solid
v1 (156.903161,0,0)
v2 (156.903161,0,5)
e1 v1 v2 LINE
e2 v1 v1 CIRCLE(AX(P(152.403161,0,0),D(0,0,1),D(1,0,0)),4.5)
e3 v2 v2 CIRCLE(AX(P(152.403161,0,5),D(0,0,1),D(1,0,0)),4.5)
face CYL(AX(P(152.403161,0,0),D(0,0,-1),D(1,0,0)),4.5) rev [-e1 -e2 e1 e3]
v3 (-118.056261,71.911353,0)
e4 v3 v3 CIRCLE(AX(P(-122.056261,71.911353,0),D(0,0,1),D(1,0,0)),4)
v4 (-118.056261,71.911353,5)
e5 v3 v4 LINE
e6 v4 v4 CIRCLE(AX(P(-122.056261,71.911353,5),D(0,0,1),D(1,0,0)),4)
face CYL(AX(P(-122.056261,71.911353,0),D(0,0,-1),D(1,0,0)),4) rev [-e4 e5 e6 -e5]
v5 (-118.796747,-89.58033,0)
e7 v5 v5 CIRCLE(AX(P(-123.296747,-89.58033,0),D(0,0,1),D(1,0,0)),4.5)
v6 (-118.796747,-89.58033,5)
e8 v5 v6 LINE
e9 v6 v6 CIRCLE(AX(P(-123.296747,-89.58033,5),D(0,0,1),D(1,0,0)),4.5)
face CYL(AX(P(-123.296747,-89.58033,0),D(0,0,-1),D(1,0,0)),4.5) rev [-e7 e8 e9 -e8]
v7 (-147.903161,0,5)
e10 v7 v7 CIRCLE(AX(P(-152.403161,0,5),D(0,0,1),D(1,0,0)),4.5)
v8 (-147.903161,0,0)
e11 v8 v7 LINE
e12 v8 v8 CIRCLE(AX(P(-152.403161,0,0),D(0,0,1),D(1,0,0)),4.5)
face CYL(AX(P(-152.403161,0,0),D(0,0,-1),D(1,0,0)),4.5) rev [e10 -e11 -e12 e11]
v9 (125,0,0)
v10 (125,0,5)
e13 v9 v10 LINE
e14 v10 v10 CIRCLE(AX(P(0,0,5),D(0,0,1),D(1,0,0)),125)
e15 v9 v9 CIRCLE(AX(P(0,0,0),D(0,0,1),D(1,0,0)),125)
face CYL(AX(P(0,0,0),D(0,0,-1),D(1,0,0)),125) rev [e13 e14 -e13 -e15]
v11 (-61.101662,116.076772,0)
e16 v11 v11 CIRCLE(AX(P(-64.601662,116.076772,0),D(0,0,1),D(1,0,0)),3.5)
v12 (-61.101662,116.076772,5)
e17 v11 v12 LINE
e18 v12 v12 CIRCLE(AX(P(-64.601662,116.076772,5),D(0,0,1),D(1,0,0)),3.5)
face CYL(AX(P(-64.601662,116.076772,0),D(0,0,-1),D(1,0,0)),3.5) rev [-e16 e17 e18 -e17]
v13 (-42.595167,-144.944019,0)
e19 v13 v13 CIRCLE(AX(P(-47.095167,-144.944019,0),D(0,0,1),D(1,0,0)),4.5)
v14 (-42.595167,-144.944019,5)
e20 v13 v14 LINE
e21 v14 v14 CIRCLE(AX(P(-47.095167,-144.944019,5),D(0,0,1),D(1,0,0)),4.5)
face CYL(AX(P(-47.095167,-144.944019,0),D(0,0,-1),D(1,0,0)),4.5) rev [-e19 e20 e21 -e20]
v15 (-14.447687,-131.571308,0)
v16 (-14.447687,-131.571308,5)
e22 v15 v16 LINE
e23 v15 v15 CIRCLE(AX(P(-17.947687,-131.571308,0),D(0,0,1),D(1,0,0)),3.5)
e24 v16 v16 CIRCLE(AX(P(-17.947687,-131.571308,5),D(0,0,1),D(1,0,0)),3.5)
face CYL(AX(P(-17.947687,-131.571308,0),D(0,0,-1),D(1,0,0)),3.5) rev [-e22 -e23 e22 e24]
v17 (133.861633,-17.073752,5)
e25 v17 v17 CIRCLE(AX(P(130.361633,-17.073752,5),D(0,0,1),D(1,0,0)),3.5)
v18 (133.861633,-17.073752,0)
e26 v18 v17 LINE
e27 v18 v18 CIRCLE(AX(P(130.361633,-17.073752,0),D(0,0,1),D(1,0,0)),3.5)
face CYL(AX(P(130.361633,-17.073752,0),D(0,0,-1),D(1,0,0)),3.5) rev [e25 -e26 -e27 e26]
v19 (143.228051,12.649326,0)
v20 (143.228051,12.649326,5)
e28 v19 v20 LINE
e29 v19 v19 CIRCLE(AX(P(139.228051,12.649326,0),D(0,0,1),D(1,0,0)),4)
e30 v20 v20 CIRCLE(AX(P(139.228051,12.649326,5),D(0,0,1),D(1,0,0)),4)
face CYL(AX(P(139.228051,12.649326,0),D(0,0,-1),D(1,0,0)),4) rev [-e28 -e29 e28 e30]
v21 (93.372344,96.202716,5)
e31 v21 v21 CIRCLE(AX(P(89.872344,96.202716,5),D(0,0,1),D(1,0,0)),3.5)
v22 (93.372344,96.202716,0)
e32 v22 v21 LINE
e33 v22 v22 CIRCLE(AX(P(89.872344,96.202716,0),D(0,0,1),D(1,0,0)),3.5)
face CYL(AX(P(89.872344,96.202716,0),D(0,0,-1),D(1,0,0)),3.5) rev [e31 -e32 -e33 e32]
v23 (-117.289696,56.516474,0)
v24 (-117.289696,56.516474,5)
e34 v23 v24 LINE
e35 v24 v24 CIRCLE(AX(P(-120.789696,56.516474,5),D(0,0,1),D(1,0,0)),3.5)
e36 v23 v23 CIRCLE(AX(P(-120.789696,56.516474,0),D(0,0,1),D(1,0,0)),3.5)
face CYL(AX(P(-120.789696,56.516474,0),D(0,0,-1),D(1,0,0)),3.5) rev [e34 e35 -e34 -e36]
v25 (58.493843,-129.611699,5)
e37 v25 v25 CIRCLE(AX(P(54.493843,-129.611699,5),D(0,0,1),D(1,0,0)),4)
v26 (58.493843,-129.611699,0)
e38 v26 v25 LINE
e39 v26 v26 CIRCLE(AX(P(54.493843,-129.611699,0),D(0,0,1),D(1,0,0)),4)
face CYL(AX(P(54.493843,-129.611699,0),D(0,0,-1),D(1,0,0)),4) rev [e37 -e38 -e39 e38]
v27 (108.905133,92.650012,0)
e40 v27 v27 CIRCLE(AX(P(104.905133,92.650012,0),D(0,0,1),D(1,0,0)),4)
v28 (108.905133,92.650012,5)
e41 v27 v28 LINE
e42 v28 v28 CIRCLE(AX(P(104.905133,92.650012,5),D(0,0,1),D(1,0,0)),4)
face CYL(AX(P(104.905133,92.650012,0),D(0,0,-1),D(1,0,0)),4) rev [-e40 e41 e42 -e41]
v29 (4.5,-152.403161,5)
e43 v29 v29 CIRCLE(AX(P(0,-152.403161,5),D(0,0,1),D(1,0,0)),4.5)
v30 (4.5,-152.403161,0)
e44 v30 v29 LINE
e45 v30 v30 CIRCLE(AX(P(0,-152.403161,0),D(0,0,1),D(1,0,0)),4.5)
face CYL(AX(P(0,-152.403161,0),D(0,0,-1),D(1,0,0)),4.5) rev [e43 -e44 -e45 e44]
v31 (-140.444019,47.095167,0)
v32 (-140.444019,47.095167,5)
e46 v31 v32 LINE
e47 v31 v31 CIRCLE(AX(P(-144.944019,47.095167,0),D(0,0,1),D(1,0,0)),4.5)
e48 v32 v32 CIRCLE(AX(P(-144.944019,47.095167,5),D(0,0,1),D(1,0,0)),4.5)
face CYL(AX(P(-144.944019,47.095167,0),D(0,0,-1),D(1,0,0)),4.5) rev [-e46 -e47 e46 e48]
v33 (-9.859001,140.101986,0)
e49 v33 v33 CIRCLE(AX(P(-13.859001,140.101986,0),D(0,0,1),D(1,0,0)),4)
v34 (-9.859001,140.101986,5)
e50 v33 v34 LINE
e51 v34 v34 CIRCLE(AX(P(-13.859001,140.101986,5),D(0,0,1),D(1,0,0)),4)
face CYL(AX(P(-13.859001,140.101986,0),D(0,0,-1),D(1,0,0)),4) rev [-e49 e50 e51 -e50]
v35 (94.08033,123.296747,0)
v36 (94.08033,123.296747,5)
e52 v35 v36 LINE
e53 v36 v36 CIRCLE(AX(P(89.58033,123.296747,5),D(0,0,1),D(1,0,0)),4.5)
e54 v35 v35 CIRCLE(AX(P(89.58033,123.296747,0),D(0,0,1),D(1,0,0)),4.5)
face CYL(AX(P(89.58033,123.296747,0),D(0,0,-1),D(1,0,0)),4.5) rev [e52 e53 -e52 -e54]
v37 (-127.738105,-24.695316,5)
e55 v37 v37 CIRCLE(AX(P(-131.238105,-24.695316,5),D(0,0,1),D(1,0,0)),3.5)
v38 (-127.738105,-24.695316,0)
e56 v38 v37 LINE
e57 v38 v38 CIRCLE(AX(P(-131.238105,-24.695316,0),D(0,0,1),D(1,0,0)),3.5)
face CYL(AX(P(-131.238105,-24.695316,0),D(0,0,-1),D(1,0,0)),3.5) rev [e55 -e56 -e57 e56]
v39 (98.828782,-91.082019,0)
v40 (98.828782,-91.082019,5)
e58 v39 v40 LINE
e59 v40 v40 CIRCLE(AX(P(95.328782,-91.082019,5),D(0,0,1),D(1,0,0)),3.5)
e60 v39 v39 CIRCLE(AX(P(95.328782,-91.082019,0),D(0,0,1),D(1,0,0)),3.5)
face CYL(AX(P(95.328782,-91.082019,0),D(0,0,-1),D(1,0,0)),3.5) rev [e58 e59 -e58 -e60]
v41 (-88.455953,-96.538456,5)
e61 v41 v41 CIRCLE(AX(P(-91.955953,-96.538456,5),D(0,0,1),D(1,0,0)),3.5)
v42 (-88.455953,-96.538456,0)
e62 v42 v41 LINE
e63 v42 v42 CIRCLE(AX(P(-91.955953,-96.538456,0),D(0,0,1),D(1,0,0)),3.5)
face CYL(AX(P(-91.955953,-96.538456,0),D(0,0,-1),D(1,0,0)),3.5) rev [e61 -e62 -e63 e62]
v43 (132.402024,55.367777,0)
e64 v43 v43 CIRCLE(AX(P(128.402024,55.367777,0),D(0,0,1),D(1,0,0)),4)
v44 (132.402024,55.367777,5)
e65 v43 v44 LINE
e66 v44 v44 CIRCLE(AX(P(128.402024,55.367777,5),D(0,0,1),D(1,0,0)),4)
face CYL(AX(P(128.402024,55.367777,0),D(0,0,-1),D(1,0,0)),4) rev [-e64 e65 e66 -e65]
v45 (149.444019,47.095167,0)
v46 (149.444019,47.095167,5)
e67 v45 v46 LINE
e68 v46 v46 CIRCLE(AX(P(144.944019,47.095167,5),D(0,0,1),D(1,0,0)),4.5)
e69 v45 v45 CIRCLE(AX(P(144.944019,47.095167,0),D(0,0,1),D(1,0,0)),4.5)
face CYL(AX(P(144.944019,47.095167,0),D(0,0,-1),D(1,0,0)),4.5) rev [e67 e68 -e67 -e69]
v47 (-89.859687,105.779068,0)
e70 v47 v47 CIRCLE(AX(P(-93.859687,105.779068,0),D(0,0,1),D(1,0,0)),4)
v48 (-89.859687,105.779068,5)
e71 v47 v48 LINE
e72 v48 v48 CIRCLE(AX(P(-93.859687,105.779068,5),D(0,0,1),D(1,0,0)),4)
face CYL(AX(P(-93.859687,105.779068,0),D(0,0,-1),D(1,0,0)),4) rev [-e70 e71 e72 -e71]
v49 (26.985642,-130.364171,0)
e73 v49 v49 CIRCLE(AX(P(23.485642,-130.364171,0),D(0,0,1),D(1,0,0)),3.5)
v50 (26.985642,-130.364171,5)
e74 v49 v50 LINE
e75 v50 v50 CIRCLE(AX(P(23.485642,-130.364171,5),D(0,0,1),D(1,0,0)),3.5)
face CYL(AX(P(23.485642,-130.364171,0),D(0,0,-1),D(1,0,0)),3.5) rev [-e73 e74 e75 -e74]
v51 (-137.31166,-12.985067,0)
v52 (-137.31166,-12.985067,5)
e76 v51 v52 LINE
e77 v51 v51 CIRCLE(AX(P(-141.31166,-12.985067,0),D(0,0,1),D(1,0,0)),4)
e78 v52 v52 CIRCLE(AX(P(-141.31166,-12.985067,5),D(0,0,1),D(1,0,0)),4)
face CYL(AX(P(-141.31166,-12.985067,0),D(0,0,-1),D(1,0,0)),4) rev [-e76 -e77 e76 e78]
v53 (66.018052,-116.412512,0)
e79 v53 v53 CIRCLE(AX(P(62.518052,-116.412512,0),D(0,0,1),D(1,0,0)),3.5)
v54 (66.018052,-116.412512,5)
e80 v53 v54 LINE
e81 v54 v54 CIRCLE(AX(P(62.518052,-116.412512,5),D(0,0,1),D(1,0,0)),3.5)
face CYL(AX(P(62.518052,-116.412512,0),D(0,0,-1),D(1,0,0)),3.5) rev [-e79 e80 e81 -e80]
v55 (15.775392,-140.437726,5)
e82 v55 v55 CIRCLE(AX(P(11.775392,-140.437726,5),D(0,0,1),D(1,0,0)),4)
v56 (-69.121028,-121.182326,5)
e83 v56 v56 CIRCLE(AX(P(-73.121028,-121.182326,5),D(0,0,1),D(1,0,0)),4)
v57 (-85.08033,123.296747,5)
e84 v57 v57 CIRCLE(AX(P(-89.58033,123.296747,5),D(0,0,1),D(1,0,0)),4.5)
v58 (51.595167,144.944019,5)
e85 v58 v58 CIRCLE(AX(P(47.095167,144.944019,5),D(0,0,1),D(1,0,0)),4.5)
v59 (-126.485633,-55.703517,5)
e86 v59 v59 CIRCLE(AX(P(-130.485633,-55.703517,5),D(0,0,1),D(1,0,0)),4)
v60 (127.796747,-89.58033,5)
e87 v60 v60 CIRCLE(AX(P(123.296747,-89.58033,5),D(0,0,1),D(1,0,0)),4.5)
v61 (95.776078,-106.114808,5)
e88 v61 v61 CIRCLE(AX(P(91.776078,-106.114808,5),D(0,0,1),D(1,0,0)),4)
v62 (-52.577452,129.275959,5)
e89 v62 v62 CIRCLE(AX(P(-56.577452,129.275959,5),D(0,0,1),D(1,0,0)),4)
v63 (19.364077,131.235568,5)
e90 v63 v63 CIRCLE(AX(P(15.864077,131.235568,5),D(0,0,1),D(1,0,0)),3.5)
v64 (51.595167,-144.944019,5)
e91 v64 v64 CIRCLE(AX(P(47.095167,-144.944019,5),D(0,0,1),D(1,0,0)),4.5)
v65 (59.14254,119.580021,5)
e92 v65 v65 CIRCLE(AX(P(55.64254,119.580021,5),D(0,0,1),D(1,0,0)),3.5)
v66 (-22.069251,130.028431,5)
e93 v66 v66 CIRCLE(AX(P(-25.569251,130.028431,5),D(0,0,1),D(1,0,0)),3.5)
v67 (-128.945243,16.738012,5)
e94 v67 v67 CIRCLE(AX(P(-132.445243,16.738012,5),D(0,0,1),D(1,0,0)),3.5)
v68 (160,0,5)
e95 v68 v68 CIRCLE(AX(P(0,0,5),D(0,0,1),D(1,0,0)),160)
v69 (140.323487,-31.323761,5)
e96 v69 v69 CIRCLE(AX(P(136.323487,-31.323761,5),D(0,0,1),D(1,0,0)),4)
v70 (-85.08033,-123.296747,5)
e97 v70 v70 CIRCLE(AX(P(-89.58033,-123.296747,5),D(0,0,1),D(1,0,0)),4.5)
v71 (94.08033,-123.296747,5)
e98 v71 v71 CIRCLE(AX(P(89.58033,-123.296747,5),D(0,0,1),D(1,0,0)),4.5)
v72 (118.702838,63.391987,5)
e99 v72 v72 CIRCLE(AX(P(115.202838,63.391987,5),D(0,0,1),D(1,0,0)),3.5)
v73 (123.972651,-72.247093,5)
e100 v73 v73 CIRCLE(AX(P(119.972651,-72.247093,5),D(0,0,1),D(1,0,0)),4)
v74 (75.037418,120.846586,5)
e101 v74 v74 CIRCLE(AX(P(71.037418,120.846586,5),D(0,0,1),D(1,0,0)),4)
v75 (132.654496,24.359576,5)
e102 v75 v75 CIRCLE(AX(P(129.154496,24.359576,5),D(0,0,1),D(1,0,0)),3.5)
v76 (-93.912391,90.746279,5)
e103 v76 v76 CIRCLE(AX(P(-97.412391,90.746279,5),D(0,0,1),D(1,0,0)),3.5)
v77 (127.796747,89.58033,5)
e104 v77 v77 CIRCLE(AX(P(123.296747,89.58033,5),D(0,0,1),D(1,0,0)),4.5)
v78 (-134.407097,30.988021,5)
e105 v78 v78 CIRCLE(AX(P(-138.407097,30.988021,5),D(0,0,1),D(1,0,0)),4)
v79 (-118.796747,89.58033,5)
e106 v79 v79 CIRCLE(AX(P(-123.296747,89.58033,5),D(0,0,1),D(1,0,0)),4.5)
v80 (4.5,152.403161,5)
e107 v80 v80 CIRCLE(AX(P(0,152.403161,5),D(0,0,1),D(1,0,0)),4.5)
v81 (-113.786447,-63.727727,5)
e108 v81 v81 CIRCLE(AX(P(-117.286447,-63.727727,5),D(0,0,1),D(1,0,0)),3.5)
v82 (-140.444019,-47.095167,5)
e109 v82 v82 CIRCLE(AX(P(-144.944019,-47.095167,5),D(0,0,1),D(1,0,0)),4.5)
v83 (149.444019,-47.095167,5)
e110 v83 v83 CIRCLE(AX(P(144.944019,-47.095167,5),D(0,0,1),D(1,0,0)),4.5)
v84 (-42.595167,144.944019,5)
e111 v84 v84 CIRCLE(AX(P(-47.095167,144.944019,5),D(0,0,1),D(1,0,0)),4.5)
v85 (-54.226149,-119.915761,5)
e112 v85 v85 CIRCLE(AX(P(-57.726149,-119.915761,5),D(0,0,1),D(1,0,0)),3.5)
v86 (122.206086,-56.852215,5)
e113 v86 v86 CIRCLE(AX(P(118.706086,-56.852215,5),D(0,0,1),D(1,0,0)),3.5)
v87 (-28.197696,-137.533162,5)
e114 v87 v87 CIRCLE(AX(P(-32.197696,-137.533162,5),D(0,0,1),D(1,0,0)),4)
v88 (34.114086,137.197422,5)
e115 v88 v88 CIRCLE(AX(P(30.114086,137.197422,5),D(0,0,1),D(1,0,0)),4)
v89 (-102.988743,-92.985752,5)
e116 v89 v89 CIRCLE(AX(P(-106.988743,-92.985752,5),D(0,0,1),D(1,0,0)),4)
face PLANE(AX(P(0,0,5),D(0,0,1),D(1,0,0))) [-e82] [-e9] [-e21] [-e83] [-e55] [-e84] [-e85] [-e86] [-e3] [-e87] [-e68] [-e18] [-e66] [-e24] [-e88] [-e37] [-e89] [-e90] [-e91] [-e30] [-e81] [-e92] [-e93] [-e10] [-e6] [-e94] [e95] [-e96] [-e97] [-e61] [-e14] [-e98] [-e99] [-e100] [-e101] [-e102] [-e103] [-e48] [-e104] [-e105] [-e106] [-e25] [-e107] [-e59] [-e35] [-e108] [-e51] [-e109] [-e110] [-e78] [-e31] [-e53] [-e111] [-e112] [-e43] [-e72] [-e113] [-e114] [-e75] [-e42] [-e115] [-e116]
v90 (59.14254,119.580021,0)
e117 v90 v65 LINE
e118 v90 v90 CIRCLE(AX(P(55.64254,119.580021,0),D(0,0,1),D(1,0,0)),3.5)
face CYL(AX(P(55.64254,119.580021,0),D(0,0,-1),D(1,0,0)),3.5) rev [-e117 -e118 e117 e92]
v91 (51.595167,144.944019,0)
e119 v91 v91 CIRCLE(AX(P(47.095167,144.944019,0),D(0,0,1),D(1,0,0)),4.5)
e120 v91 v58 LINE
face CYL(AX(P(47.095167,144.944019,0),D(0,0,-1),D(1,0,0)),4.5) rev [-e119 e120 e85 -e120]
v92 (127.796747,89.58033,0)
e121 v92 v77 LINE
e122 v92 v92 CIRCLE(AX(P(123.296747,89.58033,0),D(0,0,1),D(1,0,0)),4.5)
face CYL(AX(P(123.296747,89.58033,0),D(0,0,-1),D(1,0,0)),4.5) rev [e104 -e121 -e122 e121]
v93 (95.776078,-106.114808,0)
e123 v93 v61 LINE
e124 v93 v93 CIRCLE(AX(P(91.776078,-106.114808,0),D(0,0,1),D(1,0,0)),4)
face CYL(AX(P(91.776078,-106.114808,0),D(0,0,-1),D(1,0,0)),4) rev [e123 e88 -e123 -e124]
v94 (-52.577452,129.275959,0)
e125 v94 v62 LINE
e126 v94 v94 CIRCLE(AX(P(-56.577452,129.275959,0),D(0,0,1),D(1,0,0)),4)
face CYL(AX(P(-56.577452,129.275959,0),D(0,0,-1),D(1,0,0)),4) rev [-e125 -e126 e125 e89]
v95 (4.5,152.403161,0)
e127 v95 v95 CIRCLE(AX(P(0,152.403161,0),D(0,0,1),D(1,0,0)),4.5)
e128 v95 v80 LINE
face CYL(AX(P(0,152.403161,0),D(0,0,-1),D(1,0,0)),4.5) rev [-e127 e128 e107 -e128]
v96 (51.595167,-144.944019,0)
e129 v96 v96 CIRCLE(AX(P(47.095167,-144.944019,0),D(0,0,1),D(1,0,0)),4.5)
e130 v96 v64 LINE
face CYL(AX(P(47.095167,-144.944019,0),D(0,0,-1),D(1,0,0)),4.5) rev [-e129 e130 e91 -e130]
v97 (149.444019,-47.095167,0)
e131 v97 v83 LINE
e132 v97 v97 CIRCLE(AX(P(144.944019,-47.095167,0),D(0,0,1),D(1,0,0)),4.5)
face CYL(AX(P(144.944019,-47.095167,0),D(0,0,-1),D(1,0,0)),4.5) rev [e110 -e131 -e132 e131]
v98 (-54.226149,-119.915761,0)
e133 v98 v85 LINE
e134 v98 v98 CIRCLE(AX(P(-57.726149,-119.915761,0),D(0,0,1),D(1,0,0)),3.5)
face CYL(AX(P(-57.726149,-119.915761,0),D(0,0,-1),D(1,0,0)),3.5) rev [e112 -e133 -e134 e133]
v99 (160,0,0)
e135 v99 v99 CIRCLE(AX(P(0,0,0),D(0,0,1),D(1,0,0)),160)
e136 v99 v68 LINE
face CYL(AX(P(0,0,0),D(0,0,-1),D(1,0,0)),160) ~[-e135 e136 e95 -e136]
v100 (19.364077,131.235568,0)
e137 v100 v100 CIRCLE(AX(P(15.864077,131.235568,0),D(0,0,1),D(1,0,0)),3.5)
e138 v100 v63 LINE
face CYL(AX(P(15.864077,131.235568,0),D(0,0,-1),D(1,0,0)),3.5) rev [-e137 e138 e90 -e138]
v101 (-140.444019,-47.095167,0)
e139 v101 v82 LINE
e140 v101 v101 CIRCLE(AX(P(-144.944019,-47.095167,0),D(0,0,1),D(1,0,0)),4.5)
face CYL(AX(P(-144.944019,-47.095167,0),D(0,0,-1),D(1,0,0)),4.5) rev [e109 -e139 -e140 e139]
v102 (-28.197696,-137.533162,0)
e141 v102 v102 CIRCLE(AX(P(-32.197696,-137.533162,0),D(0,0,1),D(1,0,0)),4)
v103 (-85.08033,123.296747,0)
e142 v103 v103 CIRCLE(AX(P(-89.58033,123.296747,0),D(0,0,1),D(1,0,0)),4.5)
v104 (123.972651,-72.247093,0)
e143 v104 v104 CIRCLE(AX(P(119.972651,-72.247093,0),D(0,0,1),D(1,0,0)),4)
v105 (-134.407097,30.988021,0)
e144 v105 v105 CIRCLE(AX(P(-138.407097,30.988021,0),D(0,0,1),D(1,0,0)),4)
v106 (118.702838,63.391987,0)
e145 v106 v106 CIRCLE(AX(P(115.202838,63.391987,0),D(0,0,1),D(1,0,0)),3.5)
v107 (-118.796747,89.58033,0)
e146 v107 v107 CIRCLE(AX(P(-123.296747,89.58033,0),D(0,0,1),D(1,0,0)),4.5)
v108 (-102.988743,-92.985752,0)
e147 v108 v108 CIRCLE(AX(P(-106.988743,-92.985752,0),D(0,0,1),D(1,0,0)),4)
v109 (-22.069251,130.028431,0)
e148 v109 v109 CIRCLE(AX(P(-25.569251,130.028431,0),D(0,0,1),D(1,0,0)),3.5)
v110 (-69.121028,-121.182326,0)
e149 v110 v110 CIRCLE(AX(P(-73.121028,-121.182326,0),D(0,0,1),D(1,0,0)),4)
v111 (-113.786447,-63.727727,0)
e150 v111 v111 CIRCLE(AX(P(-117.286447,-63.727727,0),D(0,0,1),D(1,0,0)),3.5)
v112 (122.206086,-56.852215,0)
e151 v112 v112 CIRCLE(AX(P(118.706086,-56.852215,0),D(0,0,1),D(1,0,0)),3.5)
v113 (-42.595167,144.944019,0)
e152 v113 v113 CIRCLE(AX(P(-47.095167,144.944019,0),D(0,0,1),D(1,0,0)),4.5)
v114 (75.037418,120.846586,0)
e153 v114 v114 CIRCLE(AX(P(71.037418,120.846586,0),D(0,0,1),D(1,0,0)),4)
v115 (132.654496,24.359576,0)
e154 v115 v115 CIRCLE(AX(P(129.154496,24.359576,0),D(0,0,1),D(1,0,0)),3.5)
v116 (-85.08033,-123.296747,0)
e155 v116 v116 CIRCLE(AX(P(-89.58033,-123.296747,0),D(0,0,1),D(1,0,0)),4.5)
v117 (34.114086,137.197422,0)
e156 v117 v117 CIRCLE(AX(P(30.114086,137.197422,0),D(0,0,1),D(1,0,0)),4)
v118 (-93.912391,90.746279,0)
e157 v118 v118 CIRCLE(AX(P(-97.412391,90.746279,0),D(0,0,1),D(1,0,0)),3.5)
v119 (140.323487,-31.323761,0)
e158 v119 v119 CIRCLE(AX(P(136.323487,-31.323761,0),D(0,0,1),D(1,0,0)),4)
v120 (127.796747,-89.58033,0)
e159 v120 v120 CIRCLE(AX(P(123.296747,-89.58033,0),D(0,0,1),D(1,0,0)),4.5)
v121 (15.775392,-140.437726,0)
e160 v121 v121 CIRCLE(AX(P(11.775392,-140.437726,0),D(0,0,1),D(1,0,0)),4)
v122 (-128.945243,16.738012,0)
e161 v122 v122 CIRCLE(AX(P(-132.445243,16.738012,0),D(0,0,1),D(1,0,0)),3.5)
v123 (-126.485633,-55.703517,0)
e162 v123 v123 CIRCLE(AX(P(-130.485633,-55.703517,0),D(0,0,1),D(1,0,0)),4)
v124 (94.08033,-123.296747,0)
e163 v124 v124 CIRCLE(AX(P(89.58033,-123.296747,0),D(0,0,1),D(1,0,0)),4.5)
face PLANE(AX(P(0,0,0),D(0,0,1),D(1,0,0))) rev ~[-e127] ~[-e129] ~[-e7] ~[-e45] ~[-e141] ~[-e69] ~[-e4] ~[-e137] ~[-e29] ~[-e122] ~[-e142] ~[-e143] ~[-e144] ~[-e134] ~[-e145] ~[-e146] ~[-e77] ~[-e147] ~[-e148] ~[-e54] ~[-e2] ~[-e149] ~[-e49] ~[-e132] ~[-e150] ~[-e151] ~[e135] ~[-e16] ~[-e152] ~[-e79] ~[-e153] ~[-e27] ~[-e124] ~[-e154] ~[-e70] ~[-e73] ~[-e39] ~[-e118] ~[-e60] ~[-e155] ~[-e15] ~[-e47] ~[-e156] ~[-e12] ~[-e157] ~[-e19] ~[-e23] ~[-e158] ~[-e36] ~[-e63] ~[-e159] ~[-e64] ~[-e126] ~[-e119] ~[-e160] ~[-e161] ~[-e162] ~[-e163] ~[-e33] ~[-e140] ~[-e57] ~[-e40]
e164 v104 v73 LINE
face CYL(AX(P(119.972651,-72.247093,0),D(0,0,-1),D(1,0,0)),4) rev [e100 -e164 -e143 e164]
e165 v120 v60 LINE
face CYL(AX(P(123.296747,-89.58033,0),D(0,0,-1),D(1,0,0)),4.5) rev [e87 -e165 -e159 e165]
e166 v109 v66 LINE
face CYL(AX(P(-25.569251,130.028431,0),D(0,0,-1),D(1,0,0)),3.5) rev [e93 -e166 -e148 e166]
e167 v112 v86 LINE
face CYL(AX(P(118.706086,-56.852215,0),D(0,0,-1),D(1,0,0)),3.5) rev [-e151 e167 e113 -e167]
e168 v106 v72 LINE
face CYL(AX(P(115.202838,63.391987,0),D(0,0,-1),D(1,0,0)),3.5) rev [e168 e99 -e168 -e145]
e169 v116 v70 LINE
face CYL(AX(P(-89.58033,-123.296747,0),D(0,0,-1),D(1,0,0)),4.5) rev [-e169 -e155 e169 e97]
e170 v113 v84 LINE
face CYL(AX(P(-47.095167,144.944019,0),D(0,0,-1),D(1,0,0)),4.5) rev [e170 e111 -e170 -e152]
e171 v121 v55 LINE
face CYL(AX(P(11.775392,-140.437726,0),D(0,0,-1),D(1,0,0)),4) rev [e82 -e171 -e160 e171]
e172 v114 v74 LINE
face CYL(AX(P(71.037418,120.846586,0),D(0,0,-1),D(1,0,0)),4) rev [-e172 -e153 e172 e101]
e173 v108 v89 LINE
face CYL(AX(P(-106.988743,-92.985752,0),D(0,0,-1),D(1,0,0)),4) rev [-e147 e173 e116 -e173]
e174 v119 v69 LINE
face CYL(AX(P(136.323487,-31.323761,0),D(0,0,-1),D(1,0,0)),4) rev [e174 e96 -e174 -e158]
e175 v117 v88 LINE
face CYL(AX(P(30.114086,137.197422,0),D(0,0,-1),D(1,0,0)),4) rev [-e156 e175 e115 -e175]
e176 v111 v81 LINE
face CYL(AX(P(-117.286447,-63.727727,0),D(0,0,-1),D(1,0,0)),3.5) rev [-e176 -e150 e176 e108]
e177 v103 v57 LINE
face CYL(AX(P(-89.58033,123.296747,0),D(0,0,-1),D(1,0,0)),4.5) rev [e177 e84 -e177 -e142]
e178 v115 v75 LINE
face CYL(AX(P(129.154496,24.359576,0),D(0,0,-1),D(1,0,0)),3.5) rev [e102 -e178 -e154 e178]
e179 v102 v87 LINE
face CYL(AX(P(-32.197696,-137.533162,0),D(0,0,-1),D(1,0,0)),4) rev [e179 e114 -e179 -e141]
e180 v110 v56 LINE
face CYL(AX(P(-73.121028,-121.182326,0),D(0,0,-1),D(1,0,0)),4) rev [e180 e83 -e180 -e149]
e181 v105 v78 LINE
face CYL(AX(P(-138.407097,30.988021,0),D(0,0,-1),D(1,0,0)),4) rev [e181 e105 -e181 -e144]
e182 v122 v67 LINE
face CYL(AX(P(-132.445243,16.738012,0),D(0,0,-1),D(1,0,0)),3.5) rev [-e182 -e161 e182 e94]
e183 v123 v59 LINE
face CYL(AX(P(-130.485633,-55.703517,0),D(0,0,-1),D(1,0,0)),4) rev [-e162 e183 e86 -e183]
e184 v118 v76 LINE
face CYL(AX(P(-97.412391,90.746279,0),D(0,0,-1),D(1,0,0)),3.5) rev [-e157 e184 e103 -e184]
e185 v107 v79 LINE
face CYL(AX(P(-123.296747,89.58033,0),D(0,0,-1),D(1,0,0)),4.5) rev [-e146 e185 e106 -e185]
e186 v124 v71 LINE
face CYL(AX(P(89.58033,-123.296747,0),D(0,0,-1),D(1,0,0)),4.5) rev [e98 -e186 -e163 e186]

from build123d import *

# Parameters (mm, degrees)
F0_R     = 160
F0_R_2   = 4.5
F0_R_3   = 4
F0_R_4   = 3.5
F0_R_5   = 125
F1_DEPTH = 5


with BuildPart() as f1:
    # F0 (on Top) → F1 (new body)
    with BuildSketch(Plane.XY):
        Circle(F0_R)
        with Locations((-89.58033, -123.296747)):
            Circle(F0_R_2, mode=Mode.SUBTRACT)
        with Locations((-123.296747, -89.58033)):
            Circle(F0_R_2, mode=Mode.SUBTRACT)
        with Locations((-106.988743, -92.985752)):
            Circle(F0_R_3, mode=Mode.SUBTRACT)
        with Locations((-91.955953, -96.538456)):
            Circle(F0_R_4, mode=Mode.SUBTRACT)
        with Locations((-47.095167, -144.944019)):
            Circle(F0_R_2, mode=Mode.SUBTRACT)
        with Locations((-73.121028, -121.182326)):
            Circle(F0_R_3, mode=Mode.SUBTRACT)
        with Locations((-32.197696, -137.533162)):
            Circle(F0_R_3, mode=Mode.SUBTRACT)
        with Locations((-17.947687, -131.571308)):
            Circle(F0_R_4, mode=Mode.SUBTRACT)
        with Locations((-57.726149, -119.915761)):
            Circle(F0_R_4, mode=Mode.SUBTRACT)
        with Locations((-144.944019, -47.095167)):
            Circle(F0_R_2, mode=Mode.SUBTRACT)
        with Locations((-130.485633, -55.703517)):
            Circle(F0_R_3, mode=Mode.SUBTRACT)
        with Locations((-117.286447, -63.727727)):
            Circle(F0_R_4, mode=Mode.SUBTRACT)
        with Locations((-131.238105, -24.695316)):
            Circle(F0_R_4, mode=Mode.SUBTRACT)
        with Locations((-141.31166, -12.985067)):
            Circle(F0_R_3, mode=Mode.SUBTRACT)
        with Locations((0, -152.403161)):
            Circle(F0_R_2, mode=Mode.SUBTRACT)
        with Locations((11.775392, -140.437726)):
            Circle(F0_R_3, mode=Mode.SUBTRACT)
        with Locations((23.485642, -130.364171)):
            Circle(F0_R_4, mode=Mode.SUBTRACT)
        with Locations((47.095167, -144.944019)):
            Circle(F0_R_2, mode=Mode.SUBTRACT)
        with Locations((54.493843, -129.611699)):
            Circle(F0_R_3, mode=Mode.SUBTRACT)
        with Locations((62.518052, -116.412512)):
            Circle(F0_R_4, mode=Mode.SUBTRACT)
        with Locations((89.58033, -123.296747)):
            Circle(F0_R_2, mode=Mode.SUBTRACT)
        with Locations((91.776078, -106.114808)):
            Circle(F0_R_3, mode=Mode.SUBTRACT)
        with Locations((95.328782, -91.082019)):
            Circle(F0_R_4, mode=Mode.SUBTRACT)
        with Locations((123.296747, -89.58033)):
            Circle(F0_R_2, mode=Mode.SUBTRACT)
        with Locations((119.972651, -72.247093)):
            Circle(F0_R_3, mode=Mode.SUBTRACT)
        with Locations((118.706086, -56.852215)):
            Circle(F0_R_4, mode=Mode.SUBTRACT)
        with Locations((144.944019, -47.095167)):
            Circle(F0_R_2, mode=Mode.SUBTRACT)
        with Locations((136.323487, -31.323761)):
            Circle(F0_R_3, mode=Mode.SUBTRACT)
        with Locations((130.361633, -17.073752)):
            Circle(F0_R_4, mode=Mode.SUBTRACT)
        with Locations((-152.403161, 0)):
            Circle(F0_R_2, mode=Mode.SUBTRACT)
        with Locations((-132.445243, 16.738012)):
            Circle(F0_R_4, mode=Mode.SUBTRACT)
        with Locations((-138.407097, 30.988021)):
            Circle(F0_R_3, mode=Mode.SUBTRACT)
        with Locations((-144.944019, 47.095167)):
            Circle(F0_R_2, mode=Mode.SUBTRACT)
        with Locations((-120.789696, 56.516474)):
            Circle(F0_R_4, mode=Mode.SUBTRACT)
        with Locations((-122.056261, 71.911353)):
            Circle(F0_R_3, mode=Mode.SUBTRACT)
        with Locations((-123.296747, 89.58033)):
            Circle(F0_R_2, mode=Mode.SUBTRACT)
        with Locations((-97.412391, 90.746279)):
            Circle(F0_R_4, mode=Mode.SUBTRACT)
        with Locations((-93.859687, 105.779068)):
            Circle(F0_R_3, mode=Mode.SUBTRACT)
        with Locations((-89.58033, 123.296747)):
            Circle(F0_R_2, mode=Mode.SUBTRACT)
        with Locations((-64.601662, 116.076772)):
            Circle(F0_R_4, mode=Mode.SUBTRACT)
        with Locations((-56.577452, 129.275959)):
            Circle(F0_R_3, mode=Mode.SUBTRACT)
        with Locations((-47.095167, 144.944019)):
            Circle(F0_R_2, mode=Mode.SUBTRACT)
        with Locations((-25.569251, 130.028431)):
            Circle(F0_R_4, mode=Mode.SUBTRACT)
        with Locations((-13.859001, 140.101986)):
            Circle(F0_R_3, mode=Mode.SUBTRACT)
        Circle(F0_R_5, mode=Mode.SUBTRACT)
        with Locations((139.228051, 12.649326)):
            Circle(F0_R_3, mode=Mode.SUBTRACT)
        with Locations((152.403161, 0)):
            Circle(F0_R_2, mode=Mode.SUBTRACT)
        with Locations((129.154496, 24.359576)):
            Circle(F0_R_4, mode=Mode.SUBTRACT)
        with Locations((115.202838, 63.391987)):
            Circle(F0_R_4, mode=Mode.SUBTRACT)
        with Locations((128.402024, 55.367777)):
            Circle(F0_R_3, mode=Mode.SUBTRACT)
        with Locations((144.944019, 47.095167)):
            Circle(F0_R_2, mode=Mode.SUBTRACT)
        with Locations((55.64254, 119.580021)):
            Circle(F0_R_4, mode=Mode.SUBTRACT)
        with Locations((15.864077, 131.235568)):
            Circle(F0_R_4, mode=Mode.SUBTRACT)
        with Locations((30.114086, 137.197422)):
            Circle(F0_R_3, mode=Mode.SUBTRACT)
        with Locations((0, 152.403161)):
            Circle(F0_R_2, mode=Mode.SUBTRACT)
        with Locations((71.037418, 120.846586)):
            Circle(F0_R_3, mode=Mode.SUBTRACT)
        with Locations((47.095167, 144.944019)):
            Circle(F0_R_2, mode=Mode.SUBTRACT)
        with Locations((89.872344, 96.202716)):
            Circle(F0_R_4, mode=Mode.SUBTRACT)
        with Locations((104.905133, 92.650012)):
            Circle(F0_R_3, mode=Mode.SUBTRACT)
        with Locations((123.296747, 89.58033)):
            Circle(F0_R_2, mode=Mode.SUBTRACT)
        with Locations((89.58033, 123.296747)):
            Circle(F0_R_2, mode=Mode.SUBTRACT)
    extrude(amount=F1_DEPTH)


solid = f1.part
